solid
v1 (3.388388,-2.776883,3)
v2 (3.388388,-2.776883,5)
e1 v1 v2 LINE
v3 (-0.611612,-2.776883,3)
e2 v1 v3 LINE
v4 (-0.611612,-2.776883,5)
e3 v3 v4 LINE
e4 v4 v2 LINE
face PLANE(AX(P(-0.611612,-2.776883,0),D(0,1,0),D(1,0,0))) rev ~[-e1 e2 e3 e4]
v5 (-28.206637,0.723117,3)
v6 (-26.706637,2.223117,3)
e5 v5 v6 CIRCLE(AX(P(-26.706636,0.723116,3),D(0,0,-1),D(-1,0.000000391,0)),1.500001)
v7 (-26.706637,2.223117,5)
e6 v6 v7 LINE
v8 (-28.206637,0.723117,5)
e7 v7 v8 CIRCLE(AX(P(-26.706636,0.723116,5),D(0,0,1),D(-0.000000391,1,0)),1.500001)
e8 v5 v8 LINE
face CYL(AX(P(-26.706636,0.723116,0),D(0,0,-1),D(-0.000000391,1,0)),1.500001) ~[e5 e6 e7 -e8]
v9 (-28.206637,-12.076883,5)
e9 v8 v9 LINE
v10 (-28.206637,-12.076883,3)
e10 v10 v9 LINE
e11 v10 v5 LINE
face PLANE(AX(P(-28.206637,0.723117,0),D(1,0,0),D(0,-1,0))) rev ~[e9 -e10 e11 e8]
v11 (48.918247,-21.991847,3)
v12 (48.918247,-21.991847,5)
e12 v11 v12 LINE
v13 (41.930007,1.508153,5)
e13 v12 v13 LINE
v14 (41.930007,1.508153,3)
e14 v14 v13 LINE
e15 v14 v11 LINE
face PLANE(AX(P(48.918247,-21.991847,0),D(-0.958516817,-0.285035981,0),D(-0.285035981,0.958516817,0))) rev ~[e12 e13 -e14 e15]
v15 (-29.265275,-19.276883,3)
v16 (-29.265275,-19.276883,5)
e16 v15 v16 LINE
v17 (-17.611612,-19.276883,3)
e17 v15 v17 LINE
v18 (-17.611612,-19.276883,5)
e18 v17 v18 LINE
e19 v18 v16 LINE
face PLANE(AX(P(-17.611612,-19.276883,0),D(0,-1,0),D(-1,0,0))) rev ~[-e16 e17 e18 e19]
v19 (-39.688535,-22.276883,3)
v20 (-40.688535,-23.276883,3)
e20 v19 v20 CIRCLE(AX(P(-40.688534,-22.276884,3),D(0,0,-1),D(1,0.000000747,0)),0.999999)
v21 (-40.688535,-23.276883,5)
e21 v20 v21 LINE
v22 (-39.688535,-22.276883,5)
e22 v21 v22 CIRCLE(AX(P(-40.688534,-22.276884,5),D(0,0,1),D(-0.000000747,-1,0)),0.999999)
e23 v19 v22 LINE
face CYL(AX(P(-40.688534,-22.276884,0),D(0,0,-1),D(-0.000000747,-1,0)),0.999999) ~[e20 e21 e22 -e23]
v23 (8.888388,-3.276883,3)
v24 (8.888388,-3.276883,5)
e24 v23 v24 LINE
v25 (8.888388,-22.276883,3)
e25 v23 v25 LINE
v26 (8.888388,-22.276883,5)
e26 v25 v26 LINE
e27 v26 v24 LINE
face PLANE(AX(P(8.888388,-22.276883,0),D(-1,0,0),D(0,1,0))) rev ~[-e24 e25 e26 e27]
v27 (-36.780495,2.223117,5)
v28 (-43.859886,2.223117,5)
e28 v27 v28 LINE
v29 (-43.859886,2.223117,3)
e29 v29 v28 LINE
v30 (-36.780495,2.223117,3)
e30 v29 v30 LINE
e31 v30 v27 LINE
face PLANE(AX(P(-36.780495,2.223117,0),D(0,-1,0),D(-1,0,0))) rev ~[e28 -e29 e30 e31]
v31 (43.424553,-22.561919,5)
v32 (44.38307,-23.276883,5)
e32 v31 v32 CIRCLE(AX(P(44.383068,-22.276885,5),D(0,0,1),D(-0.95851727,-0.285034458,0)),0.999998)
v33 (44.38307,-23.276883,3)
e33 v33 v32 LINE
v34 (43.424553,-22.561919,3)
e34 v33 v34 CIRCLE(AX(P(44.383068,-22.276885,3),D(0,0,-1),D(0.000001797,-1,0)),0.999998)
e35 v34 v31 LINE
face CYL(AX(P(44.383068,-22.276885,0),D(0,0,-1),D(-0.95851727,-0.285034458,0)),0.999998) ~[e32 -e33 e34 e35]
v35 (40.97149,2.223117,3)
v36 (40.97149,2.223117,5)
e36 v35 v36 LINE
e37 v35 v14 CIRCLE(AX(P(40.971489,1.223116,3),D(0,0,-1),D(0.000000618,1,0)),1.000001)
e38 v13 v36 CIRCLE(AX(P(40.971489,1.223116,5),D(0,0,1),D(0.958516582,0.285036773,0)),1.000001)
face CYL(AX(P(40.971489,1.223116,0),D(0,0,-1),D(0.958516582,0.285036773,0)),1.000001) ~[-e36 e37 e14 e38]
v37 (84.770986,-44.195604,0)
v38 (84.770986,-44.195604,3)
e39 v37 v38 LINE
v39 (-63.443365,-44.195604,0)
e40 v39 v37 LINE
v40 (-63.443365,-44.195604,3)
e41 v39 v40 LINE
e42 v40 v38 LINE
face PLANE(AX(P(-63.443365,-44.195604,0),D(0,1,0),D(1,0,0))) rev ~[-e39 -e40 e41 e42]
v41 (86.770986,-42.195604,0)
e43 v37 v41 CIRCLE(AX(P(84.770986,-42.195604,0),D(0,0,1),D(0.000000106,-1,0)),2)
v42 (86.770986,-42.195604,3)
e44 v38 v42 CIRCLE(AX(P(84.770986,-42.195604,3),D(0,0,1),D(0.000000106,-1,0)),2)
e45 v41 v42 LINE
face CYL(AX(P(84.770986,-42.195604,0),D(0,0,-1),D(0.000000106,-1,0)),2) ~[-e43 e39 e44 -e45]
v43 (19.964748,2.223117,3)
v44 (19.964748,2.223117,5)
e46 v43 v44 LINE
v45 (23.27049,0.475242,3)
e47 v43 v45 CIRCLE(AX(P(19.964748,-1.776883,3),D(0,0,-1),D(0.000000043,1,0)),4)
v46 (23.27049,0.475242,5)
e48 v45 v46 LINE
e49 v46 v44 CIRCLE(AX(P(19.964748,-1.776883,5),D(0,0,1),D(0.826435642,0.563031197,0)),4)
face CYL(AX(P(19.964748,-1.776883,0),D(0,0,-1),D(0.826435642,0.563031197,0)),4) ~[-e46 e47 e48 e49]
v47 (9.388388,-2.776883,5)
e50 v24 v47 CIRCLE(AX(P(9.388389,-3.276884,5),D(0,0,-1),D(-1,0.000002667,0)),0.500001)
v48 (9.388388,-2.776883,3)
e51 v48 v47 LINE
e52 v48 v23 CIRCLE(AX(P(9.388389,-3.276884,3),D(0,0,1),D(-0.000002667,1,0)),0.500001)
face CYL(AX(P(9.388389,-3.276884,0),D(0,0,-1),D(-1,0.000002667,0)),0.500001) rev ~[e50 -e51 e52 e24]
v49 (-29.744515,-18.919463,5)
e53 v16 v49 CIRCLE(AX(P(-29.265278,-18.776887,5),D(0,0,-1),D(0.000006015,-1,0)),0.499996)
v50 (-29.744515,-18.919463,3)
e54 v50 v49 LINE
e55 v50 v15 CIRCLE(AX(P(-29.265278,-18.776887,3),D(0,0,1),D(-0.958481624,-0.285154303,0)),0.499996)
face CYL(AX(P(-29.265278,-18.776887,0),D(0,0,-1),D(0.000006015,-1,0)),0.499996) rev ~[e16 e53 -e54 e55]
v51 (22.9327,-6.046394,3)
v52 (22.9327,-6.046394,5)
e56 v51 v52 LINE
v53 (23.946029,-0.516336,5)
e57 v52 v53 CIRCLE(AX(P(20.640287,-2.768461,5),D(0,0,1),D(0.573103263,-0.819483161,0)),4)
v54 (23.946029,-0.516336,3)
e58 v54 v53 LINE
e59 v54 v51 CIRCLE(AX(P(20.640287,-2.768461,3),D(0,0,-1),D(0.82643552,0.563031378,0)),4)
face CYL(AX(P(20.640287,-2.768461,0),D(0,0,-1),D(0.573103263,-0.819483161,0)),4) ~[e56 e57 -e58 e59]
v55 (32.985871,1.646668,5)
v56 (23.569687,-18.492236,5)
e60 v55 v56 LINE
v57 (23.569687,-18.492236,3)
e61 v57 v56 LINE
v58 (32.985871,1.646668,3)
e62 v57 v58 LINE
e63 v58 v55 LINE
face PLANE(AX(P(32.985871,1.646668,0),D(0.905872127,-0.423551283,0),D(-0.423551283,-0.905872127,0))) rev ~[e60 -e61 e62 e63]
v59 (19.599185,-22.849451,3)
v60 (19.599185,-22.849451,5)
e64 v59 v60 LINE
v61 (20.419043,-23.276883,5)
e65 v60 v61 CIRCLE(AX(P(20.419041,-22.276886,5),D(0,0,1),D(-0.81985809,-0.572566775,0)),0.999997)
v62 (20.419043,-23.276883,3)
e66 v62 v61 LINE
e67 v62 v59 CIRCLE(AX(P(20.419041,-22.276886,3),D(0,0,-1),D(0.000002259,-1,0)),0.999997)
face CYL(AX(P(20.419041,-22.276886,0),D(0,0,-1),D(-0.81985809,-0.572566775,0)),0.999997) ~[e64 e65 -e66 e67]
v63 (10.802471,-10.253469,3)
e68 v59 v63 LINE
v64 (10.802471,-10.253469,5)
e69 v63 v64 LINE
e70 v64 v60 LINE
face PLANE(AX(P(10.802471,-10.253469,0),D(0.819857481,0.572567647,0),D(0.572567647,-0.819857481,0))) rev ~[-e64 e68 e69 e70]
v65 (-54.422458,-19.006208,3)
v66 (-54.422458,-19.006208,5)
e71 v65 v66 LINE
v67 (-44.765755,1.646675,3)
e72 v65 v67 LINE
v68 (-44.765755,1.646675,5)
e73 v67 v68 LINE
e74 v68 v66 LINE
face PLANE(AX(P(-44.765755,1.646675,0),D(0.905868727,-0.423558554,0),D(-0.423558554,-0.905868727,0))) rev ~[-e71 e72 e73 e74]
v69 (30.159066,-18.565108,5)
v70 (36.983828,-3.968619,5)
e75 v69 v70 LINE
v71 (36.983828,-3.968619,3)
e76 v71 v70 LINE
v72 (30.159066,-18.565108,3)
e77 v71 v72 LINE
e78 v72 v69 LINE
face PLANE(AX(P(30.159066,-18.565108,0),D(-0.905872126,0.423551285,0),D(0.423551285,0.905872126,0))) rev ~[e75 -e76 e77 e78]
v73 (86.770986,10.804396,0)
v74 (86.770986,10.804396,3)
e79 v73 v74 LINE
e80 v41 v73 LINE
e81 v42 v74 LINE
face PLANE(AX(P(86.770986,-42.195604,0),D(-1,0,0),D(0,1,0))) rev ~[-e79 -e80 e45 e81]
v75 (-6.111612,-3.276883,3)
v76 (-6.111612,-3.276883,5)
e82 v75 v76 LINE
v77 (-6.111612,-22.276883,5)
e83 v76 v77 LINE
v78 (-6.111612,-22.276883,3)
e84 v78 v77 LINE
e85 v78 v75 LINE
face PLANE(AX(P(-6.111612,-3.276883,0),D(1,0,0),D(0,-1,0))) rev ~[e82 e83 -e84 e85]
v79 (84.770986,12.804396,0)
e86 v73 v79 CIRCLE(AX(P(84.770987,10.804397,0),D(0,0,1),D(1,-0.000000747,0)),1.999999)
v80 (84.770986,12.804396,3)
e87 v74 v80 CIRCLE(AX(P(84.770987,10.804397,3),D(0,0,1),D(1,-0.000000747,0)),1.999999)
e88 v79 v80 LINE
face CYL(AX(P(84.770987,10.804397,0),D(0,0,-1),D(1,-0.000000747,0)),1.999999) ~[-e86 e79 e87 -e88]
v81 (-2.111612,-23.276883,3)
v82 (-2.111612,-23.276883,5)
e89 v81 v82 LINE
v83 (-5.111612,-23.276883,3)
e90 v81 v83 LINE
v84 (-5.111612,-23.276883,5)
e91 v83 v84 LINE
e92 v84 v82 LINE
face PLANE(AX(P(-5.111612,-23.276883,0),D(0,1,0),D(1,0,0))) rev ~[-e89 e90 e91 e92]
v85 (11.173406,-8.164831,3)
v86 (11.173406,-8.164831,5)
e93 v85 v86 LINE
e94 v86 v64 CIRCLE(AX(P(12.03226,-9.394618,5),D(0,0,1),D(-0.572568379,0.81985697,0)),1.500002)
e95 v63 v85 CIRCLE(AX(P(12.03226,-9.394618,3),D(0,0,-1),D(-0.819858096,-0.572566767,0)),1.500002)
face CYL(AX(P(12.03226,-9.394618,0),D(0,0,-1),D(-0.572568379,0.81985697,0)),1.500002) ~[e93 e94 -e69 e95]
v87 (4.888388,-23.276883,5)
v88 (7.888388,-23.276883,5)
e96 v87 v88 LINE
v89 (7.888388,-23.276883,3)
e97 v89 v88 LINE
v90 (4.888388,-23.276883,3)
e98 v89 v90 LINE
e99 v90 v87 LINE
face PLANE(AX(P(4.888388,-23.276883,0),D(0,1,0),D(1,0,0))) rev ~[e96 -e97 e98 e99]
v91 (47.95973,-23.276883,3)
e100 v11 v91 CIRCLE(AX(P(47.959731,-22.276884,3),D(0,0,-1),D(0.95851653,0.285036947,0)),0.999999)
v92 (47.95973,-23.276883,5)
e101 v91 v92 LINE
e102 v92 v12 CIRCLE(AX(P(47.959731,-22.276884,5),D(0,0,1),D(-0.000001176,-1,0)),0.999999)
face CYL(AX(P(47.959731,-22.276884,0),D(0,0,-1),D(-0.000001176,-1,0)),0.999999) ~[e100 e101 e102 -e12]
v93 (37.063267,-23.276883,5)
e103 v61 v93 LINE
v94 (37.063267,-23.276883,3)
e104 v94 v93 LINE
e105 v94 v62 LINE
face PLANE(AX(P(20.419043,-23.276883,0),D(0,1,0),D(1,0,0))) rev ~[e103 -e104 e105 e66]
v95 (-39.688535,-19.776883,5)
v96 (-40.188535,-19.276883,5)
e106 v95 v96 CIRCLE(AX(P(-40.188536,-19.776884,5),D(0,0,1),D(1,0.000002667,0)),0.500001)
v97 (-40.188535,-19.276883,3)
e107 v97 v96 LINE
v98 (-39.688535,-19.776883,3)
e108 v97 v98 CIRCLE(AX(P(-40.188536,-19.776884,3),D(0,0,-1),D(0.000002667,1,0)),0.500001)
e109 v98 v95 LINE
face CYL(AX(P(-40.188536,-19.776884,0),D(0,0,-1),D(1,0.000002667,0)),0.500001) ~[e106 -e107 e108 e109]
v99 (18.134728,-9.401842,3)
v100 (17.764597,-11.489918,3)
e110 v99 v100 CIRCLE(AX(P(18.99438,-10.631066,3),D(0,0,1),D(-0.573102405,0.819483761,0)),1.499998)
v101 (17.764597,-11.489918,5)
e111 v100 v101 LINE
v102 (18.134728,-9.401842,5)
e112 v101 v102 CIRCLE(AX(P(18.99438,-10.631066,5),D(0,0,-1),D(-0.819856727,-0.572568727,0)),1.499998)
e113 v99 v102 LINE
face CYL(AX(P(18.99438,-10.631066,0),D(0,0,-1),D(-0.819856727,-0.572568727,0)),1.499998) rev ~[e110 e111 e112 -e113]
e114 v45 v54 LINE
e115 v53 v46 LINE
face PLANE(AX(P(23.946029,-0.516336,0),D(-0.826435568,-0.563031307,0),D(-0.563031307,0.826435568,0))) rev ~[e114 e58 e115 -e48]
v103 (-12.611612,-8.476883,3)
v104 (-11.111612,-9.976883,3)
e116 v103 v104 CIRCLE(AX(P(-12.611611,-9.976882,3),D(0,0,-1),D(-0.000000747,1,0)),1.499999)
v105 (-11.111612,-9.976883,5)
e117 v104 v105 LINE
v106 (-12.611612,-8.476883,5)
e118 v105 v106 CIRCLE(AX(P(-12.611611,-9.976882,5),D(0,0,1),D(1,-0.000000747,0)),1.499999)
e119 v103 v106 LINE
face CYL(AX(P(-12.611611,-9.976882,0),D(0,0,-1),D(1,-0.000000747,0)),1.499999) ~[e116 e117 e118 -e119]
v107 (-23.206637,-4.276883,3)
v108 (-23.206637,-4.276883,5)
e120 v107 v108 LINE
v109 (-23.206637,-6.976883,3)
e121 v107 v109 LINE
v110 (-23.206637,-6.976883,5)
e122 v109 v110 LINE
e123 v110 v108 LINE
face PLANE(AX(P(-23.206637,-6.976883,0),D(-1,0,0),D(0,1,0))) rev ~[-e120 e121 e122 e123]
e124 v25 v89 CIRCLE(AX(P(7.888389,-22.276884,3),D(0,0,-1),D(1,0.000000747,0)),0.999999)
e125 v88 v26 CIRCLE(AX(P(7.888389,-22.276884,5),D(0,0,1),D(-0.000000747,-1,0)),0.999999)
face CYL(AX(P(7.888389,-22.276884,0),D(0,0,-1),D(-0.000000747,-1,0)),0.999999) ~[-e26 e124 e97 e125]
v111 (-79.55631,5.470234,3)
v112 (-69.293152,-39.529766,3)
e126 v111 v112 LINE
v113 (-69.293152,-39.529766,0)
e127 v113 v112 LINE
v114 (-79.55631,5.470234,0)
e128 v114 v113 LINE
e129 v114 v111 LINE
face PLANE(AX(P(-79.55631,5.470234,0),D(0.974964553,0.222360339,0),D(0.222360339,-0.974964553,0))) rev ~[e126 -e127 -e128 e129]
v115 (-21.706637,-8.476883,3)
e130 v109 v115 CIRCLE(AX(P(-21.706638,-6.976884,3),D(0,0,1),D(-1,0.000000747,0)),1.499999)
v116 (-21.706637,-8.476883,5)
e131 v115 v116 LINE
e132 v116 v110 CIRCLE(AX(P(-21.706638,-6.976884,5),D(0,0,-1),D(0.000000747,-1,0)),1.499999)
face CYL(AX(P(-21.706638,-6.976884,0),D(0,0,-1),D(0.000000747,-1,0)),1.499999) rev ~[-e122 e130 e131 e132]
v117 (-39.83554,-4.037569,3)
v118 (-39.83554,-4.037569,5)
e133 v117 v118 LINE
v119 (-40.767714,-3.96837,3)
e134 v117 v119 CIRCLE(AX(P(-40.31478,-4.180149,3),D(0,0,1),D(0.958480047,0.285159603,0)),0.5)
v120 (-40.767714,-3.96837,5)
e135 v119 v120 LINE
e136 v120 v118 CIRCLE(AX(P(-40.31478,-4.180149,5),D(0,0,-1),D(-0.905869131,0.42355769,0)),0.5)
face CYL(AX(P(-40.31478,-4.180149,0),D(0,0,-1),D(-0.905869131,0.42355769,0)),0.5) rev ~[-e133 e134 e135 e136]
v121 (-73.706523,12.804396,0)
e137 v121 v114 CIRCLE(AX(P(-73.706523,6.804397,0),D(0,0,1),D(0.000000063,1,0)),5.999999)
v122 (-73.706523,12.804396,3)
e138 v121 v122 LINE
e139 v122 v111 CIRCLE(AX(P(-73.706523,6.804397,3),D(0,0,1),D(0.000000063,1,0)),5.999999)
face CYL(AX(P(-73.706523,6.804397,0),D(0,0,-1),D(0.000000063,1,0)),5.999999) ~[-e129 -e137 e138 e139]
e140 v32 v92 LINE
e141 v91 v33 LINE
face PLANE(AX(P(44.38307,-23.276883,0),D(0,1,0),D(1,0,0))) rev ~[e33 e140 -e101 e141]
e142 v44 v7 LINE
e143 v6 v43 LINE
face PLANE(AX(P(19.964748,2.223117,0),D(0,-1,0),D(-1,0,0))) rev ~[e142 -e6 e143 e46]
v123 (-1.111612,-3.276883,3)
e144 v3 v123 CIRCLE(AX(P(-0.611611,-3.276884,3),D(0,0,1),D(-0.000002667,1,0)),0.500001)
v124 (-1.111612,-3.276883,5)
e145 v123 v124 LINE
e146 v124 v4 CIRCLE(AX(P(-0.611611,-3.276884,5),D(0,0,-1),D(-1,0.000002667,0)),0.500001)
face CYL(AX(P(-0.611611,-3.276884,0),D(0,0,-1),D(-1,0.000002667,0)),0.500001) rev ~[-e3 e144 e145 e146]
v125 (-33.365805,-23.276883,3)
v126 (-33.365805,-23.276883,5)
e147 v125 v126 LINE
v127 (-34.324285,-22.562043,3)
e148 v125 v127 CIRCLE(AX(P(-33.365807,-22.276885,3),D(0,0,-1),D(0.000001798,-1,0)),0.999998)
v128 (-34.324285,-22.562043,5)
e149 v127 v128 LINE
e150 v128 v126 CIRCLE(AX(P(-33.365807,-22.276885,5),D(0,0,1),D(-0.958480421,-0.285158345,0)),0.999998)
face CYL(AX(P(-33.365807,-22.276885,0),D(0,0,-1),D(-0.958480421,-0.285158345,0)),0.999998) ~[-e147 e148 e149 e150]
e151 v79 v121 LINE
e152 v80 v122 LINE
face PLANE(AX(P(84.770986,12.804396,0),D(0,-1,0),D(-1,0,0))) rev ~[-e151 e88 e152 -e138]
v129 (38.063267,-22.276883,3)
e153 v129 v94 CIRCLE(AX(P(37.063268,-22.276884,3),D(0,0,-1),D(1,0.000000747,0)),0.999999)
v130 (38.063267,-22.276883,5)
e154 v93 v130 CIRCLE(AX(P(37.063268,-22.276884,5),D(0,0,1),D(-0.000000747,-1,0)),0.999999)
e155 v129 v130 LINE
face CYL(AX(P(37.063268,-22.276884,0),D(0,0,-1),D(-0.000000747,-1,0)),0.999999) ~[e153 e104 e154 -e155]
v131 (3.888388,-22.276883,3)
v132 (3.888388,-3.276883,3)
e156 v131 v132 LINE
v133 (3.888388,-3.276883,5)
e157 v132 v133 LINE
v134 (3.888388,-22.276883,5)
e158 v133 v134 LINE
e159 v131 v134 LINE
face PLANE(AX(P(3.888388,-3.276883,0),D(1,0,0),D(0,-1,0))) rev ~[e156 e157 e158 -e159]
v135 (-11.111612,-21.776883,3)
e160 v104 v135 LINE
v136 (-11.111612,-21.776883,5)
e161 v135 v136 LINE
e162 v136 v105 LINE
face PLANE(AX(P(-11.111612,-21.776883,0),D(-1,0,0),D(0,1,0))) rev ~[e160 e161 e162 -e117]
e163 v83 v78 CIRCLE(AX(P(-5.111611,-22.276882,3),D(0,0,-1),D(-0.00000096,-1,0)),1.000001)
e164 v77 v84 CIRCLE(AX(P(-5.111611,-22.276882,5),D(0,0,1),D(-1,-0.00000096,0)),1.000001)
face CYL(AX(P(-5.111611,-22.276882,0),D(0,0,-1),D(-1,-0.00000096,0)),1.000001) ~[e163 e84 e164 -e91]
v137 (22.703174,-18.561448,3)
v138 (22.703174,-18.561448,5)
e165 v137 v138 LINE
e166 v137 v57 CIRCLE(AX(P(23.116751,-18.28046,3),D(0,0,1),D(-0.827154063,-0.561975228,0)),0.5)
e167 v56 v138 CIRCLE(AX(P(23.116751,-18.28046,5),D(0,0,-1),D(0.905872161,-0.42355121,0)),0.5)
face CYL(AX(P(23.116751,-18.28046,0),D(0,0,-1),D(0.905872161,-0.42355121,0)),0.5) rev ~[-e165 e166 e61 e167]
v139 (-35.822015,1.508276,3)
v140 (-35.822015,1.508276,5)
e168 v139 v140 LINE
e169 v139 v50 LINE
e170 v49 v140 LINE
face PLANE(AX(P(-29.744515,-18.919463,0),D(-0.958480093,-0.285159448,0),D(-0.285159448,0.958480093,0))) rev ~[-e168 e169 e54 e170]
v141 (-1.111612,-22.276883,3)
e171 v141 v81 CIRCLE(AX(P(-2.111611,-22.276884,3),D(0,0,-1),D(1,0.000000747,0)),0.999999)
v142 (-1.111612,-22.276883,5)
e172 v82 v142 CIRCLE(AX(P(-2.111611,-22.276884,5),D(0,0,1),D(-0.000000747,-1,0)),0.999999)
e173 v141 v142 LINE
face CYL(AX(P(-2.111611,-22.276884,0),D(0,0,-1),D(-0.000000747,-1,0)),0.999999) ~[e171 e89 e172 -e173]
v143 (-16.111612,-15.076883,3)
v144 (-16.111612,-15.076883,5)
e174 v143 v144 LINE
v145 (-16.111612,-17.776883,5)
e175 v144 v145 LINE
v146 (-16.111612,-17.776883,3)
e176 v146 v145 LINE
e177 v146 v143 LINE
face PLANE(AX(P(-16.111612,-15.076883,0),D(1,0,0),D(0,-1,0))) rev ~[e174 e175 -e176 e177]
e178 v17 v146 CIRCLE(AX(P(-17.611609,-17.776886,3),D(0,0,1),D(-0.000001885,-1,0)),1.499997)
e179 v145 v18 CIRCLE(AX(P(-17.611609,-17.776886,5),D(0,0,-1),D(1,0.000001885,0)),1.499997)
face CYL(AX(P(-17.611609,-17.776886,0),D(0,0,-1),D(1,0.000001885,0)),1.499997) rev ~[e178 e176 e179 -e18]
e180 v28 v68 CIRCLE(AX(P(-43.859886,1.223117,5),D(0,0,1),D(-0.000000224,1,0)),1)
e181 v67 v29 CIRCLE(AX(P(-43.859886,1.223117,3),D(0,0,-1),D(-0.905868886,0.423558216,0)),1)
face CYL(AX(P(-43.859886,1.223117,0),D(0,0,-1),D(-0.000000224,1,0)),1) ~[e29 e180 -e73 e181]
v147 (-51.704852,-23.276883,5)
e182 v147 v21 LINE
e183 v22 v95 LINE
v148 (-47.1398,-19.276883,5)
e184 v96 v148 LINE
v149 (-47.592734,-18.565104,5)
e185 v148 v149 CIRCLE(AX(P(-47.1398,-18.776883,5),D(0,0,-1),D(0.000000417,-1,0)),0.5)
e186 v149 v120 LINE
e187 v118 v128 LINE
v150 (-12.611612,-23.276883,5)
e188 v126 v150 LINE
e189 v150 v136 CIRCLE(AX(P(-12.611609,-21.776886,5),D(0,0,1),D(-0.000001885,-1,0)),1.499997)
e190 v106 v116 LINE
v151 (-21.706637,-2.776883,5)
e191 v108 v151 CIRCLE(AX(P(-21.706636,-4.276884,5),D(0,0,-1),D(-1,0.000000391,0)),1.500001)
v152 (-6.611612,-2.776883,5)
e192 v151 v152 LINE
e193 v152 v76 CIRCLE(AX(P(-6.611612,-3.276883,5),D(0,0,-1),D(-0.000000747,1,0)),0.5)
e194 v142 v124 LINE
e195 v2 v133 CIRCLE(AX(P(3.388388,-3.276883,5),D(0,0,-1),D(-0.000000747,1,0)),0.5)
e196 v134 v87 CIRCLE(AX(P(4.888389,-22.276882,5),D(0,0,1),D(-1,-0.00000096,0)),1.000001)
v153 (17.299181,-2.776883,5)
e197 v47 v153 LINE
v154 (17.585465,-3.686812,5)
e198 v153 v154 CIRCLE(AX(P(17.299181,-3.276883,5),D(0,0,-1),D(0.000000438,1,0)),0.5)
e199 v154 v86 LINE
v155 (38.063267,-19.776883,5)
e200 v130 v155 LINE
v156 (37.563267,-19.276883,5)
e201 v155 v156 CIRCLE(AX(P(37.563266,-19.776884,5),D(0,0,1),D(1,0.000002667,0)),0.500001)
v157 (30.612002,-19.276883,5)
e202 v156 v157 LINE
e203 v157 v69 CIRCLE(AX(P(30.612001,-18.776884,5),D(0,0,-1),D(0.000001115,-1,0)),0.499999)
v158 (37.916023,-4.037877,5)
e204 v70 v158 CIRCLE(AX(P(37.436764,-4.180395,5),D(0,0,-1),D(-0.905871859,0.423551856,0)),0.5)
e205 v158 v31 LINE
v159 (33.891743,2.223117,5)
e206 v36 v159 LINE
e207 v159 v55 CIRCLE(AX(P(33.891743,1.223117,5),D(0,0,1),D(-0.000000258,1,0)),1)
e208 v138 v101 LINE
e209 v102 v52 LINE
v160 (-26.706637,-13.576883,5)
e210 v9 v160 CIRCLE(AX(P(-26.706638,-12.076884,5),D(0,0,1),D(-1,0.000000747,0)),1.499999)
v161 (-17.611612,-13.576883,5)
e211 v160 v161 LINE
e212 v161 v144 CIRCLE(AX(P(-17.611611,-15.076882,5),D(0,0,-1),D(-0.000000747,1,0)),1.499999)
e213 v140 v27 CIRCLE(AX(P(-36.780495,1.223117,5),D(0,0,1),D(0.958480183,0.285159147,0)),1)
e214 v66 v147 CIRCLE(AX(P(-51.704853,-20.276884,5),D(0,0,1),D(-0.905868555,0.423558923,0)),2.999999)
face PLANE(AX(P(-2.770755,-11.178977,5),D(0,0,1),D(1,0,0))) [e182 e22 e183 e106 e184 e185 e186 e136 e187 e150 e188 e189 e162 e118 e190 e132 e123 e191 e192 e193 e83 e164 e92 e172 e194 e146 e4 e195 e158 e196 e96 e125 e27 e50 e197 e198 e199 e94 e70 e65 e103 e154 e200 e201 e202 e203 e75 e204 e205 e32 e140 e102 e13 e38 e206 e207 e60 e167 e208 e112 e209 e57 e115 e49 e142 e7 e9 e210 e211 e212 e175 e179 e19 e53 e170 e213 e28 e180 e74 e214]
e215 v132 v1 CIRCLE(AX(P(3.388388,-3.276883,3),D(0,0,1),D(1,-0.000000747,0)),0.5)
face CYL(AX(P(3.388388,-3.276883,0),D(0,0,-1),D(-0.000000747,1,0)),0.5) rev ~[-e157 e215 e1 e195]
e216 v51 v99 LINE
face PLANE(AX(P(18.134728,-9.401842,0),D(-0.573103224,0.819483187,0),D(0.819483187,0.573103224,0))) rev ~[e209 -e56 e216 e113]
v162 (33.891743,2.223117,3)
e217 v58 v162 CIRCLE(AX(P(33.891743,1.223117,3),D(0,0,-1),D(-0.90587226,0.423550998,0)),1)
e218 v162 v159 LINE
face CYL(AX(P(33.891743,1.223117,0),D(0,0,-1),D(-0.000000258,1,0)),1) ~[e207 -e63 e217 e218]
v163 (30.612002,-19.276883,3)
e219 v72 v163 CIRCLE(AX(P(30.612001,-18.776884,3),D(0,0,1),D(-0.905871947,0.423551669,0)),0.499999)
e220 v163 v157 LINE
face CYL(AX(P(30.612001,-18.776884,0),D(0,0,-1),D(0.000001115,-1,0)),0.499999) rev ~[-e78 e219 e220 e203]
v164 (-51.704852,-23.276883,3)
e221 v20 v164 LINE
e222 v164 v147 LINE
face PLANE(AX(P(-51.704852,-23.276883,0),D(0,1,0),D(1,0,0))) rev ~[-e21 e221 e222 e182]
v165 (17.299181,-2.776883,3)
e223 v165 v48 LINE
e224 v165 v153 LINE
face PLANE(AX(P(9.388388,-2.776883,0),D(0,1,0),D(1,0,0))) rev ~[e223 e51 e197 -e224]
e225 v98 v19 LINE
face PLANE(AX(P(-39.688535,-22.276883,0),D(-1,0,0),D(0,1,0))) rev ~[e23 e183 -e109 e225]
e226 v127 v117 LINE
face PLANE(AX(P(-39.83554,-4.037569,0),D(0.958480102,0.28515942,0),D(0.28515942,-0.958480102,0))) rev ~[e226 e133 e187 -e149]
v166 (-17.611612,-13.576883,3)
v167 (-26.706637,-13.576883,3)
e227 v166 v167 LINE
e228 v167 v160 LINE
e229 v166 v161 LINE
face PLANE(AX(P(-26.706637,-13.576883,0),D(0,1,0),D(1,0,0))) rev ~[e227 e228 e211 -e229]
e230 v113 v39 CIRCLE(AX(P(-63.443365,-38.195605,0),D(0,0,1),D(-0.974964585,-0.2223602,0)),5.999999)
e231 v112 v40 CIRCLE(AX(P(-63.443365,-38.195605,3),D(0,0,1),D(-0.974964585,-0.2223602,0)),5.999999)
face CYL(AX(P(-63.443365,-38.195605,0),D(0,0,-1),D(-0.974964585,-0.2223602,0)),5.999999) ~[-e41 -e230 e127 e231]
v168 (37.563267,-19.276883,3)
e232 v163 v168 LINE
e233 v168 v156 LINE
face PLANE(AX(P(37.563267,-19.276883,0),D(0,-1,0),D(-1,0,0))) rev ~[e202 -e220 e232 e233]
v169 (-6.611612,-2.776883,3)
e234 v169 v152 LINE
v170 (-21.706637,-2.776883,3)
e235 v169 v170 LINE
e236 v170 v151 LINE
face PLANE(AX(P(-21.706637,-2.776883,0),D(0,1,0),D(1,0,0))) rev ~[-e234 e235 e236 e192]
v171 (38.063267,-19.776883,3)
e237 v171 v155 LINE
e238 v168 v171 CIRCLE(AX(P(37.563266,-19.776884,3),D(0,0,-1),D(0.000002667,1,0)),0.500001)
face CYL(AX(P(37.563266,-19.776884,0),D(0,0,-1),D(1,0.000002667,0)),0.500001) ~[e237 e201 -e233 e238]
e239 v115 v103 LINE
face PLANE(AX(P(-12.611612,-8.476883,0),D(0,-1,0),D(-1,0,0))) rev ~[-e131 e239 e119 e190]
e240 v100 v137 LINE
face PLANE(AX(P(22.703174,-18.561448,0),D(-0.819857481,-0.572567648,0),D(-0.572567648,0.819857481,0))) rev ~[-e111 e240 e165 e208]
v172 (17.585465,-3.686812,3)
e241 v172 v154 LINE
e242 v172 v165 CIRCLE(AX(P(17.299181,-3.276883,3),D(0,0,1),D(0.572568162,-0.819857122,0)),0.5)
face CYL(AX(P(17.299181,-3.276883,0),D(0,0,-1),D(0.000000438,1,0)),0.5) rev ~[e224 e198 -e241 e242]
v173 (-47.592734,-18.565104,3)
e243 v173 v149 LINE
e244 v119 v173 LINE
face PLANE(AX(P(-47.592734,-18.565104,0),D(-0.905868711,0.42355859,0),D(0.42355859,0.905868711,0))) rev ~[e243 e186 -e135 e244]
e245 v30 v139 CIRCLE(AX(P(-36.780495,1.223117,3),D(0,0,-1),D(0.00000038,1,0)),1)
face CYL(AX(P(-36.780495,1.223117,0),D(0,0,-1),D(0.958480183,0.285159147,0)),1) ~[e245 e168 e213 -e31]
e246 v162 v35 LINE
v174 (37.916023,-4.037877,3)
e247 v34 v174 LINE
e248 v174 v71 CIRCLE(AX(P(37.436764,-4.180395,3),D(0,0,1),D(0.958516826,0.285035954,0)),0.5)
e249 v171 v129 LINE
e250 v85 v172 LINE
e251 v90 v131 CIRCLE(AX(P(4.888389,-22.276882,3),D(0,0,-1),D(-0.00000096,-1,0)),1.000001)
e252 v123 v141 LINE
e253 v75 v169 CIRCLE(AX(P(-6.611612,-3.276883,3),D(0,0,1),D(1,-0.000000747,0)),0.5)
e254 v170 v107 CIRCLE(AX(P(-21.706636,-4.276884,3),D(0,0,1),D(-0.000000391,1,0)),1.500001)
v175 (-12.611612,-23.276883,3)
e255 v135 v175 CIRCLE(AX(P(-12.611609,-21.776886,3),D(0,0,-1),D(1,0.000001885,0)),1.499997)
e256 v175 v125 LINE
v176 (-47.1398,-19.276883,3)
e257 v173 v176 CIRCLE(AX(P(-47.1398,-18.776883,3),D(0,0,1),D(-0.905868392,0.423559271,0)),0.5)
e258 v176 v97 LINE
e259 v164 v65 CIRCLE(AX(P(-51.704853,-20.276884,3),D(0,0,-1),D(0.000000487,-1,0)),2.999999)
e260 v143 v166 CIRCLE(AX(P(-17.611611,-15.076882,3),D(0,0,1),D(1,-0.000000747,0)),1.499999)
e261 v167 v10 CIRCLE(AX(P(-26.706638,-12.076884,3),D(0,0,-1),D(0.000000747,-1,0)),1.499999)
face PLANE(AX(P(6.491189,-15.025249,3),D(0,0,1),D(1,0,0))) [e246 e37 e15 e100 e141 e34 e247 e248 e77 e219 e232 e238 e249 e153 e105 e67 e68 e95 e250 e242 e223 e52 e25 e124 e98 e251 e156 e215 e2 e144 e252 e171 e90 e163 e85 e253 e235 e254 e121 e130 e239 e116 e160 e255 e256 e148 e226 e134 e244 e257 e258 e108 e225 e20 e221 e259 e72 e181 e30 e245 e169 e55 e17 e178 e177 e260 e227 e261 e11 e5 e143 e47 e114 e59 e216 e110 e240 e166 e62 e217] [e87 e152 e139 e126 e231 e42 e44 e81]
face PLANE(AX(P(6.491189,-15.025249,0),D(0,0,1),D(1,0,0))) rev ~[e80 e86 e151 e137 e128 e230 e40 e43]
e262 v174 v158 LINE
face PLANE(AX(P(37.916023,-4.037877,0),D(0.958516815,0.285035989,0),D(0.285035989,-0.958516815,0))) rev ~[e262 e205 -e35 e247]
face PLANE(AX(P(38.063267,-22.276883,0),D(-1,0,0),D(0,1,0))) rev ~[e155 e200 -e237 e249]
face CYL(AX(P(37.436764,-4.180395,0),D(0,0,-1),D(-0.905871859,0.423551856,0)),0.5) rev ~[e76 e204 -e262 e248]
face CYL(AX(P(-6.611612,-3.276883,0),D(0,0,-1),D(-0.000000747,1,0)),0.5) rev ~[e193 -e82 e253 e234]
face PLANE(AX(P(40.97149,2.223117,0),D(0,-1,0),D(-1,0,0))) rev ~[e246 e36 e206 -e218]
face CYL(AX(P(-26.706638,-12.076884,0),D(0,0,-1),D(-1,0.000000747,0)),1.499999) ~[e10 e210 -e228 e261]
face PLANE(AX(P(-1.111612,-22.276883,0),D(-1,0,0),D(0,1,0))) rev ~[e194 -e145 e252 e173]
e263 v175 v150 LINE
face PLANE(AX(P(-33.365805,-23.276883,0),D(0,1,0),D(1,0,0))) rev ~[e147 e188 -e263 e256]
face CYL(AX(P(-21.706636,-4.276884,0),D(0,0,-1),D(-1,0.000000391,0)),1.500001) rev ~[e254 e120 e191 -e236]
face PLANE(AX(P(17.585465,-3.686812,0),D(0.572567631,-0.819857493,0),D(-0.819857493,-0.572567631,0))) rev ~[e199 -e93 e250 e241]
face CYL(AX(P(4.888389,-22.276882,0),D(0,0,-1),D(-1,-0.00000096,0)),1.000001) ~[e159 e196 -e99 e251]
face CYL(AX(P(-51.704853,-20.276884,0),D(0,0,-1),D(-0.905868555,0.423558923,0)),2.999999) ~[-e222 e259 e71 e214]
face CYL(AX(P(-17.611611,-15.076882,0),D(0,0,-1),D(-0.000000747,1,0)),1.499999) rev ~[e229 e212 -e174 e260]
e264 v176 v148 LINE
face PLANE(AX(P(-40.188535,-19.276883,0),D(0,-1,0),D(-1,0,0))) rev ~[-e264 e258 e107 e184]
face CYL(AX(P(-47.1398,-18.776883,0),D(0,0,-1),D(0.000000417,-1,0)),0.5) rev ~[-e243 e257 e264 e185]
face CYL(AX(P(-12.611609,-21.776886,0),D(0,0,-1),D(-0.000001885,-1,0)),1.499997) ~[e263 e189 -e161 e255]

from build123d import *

# Parameters (mm, degrees)
F1_DEPTH = 3
F2_DEPTH = 5


with BuildPart() as f1:
    # F0 (on Top) → F1 (new body)
    with BuildSketch(Plane.XY):
        with BuildLine():
            Line((84.770986, 12.804396), (-73.706523, 12.804396))
            ThreePointArc((-73.706523, 12.804396), (-78.397204, 10.545721), (-79.55631, 5.470234))
            Line((-79.55631, 5.470234), (-69.293152, -39.529766))
            ThreePointArc((-69.293152, -39.529766), (-67.18469, -42.886285), (-63.443365, -44.195604))
            Line((-63.443365, -44.195604), (84.770986, -44.195604))
            ThreePointArc((84.770986, -44.195604), (86.1852, -43.609817), (86.770986, -42.195604))
            Line((86.770986, -42.195604), (86.770986, 10.804396))
            ThreePointArc((86.770986, 10.804396), (86.1852, 12.21861), (84.770986, 12.804396))
        make_face()
        with BuildLine():
            ThreePointArc((-51.704852, -23.276883), (-54.235863, -21.887469), (-54.422458, -19.006208))
            Line((-54.422458, -19.006208), (-44.765755, 1.646675))
            ThreePointArc((-44.765755, 1.646675), (-44.396748, 2.066787), (-43.859886, 2.223117))
            Line((-43.859886, 2.223117), (-36.780495, 2.223117))
            ThreePointArc((-36.780495, 2.223117), (-36.182648, 2.024727), (-35.822015, 1.508276))
            Line((-35.822015, 1.508276), (-29.744515, -18.919463))
            ThreePointArc((-29.744515, -18.919463), (-29.564199, -19.177689), (-29.265275, -19.276883))
            Line((-29.265275, -19.276883), (-17.611612, -19.276883))
            ThreePointArc((-17.611612, -19.276883), (-16.550951, -18.837544), (-16.111612, -17.776883))
            Line((-16.111612, -17.776883), (-16.111612, -15.076883))
            ThreePointArc((-16.111612, -15.076883), (-16.550951, -14.016223), (-17.611612, -13.576883))
            Line((-17.611612, -13.576883), (-26.706637, -13.576883))
            ThreePointArc((-26.706637, -13.576883), (-27.767297, -13.137544), (-28.206637, -12.076883))
            Line((-28.206637, -12.076883), (-28.206637, 0.723117))
            ThreePointArc((-28.206637, 0.723117), (-27.767297, 1.783777), (-26.706637, 2.223117))
            Line((-26.706637, 2.223117), (19.964748, 2.223117))
            ThreePointArc((19.964748, 2.223117), (21.83444, 1.759252), (23.27049, 0.475242))
            Line((23.27049, 0.475242), (23.946029, -0.516336))
            ThreePointArc((23.946029, -0.516336), (24.574778, -3.489419), (22.9327, -6.046394))
            Line((22.9327, -6.046394), (18.134728, -9.401842))
            ThreePointArc((18.134728, -9.401842), (17.517407, -10.369258), (17.764597, -11.489918))
            Line((17.764597, -11.489918), (22.703174, -18.561448))
            ThreePointArc((22.703174, -18.561448), (23.156561, -18.778873), (23.569687, -18.492236))
            Line((23.569687, -18.492236), (32.985871, 1.646668))
            ThreePointArc((32.985871, 1.646668), (33.354878, 2.066785), (33.891743, 2.223117))
            Line((33.891743, 2.223117), (40.97149, 2.223117))
            ThreePointArc((40.97149, 2.223117), (41.569388, 2.024689), (41.930007, 1.508153))
            Line((41.930007, 1.508153), (48.918247, -21.991847))
            ThreePointArc((48.918247, -21.991847), (48.761303, -22.874781), (47.95973, -23.276883))
            Line((47.95973, -23.276883), (44.38307, -23.276883))
            ThreePointArc((44.38307, -23.276883), (43.785172, -23.078456), (43.424553, -22.561919))
            Line((43.424553, -22.561919), (37.916023, -4.037877))
            ThreePointArc((37.916023, -4.037877), (37.47381, -3.681769), (36.983828, -3.968619))
            Line((36.983828, -3.968619), (30.159066, -18.565108))
            ThreePointArc((30.159066, -18.565108), (30.190168, -19.045316), (30.612002, -19.276883))
            Line((30.612002, -19.276883), (37.563267, -19.276883))
            ThreePointArc((37.563267, -19.276883), (37.91682, -19.42333), (38.063267, -19.776883))
            Line((38.063267, -19.776883), (38.063267, -22.276883))
            ThreePointArc((38.063267, -22.276883), (37.770374, -22.98399), (37.063267, -23.276883))
            Line((37.063267, -23.276883), (20.419043, -23.276883))
            ThreePointArc((20.419043, -23.276883), (19.956748, -23.16361), (19.599185, -22.849451))
            Line((19.599185, -22.849451), (10.802471, -10.253469))
            ThreePointArc((10.802471, -10.253469), (10.555368, -9.132327), (11.173406, -8.164831))
            Line((11.173406, -8.164831), (17.585465, -3.686812))
            ThreePointArc((17.585465, -3.686812), (17.776132, -3.126824), (17.299181, -2.776883))
            Line((17.299181, -2.776883), (9.388388, -2.776883))
            ThreePointArc((9.388388, -2.776883), (9.034835, -2.92333), (8.888388, -3.276883))
            Line((8.888388, -3.276883), (8.888388, -22.276883))
            ThreePointArc((8.888388, -22.276883), (8.595495, -22.98399), (7.888388, -23.276883))
            Line((7.888388, -23.276883), (4.888388, -23.276883))
            ThreePointArc((4.888388, -23.276883), (4.181282, -22.98399), (3.888388, -22.276883))
            Line((3.888388, -22.276883), (3.888388, -3.276883))
            ThreePointArc((3.888388, -3.276883), (3.741942, -2.92333), (3.388388, -2.776883))
            Line((3.388388, -2.776883), (-0.611612, -2.776883))
            ThreePointArc((-0.611612, -2.776883), (-0.965165, -2.92333), (-1.111612, -3.276883))
            Line((-1.111612, -3.276883), (-1.111612, -22.276883))
            ThreePointArc((-1.111612, -22.276883), (-1.404505, -22.98399), (-2.111612, -23.276883))
            Line((-2.111612, -23.276883), (-5.111612, -23.276883))
            ThreePointArc((-5.111612, -23.276883), (-5.818718, -22.98399), (-6.111612, -22.276883))
            Line((-6.111612, -22.276883), (-6.111612, -3.276883))
            ThreePointArc((-6.111612, -3.276883), (-6.258058, -2.92333), (-6.611612, -2.776883))
            Line((-6.611612, -2.776883), (-21.706637, -2.776883))
            ThreePointArc((-21.706637, -2.776883), (-22.767297, -3.216223), (-23.206637, -4.276883))
            Line((-23.206637, -4.276883), (-23.206637, -6.976883))
            ThreePointArc((-23.206637, -6.976883), (-22.767297, -8.037544), (-21.706637, -8.476883))
            Line((-21.706637, -8.476883), (-12.611612, -8.476883))
            ThreePointArc((-12.611612, -8.476883), (-11.550951, -8.916223), (-11.111612, -9.976883))
            Line((-11.111612, -9.976883), (-11.111612, -21.776883))
            ThreePointArc((-11.111612, -21.776883), (-11.550951, -22.837544), (-12.611612, -23.276883))
            Line((-12.611612, -23.276883), (-33.365805, -23.276883))
            ThreePointArc((-33.365805, -23.276883), (-33.963652, -23.078494), (-34.324285, -22.562043))
            Line((-34.324285, -22.562043), (-39.83554, -4.037569))
            ThreePointArc((-39.83554, -4.037569), (-40.277765, -3.681521), (-40.767714, -3.96837))
            Line((-40.767714, -3.96837), (-47.592734, -18.565104))
            ThreePointArc((-47.592734, -18.565104), (-47.561635, -19.045314), (-47.1398, -19.276883))
            Line((-47.1398, -19.276883), (-40.188535, -19.276883))
            ThreePointArc((-40.188535, -19.276883), (-39.834982, -19.42333), (-39.688535, -19.776883))
            Line((-39.688535, -19.776883), (-39.688535, -22.276883))
            ThreePointArc((-39.688535, -22.276883), (-39.981428, -22.98399), (-40.688535, -23.276883))
            Line((-40.688535, -23.276883), (-51.704852, -23.276883))
        make_face(mode=Mode.SUBTRACT)
    extrude(amount=F1_DEPTH)

    # F0 (on Top) → F2 (join)
    with BuildSketch(Plane.XY):
        with BuildLine():
            Line((-44.765755, 1.646675), (-54.422458, -19.006208))
            ThreePointArc((-54.422458, -19.006208), (-54.235863, -21.887469), (-51.704852, -23.276883))
            Line((-51.704852, -23.276883), (-40.688535, -23.276883))
            ThreePointArc((-40.688535, -23.276883), (-39.981428, -22.98399), (-39.688535, -22.276883))
            Line((-39.688535, -22.276883), (-39.688535, -19.776883))
            ThreePointArc((-39.688535, -19.776883), (-39.834982, -19.42333), (-40.188535, -19.276883))
            Line((-40.188535, -19.276883), (-47.1398, -19.276883))
            ThreePointArc((-47.1398, -19.276883), (-47.561635, -19.045314), (-47.592734, -18.565104))
            Line((-47.592734, -18.565104), (-40.767714, -3.96837))
            ThreePointArc((-40.767714, -3.96837), (-40.277765, -3.681521), (-39.83554, -4.037569))
            Line((-39.83554, -4.037569), (-34.324285, -22.562043))
            ThreePointArc((-34.324285, -22.562043), (-33.963652, -23.078494), (-33.365805, -23.276883))
            Line((-33.365805, -23.276883), (-12.611612, -23.276883))
            ThreePointArc((-12.611612, -23.276883), (-11.550951, -22.837544), (-11.111612, -21.776883))
            Line((-11.111612, -21.776883), (-11.111612, -9.976883))
            ThreePointArc((-11.111612, -9.976883), (-11.550951, -8.916223), (-12.611612, -8.476883))
            Line((-12.611612, -8.476883), (-21.706637, -8.476883))
            ThreePointArc((-21.706637, -8.476883), (-22.767297, -8.037544), (-23.206637, -6.976883))
            Line((-23.206637, -6.976883), (-23.206637, -4.276883))
            ThreePointArc((-23.206637, -4.276883), (-22.767297, -3.216223), (-21.706637, -2.776883))
            Line((-21.706637, -2.776883), (-6.611612, -2.776883))
            ThreePointArc((-6.611612, -2.776883), (-6.258058, -2.92333), (-6.111612, -3.276883))
            Line((-6.111612, -3.276883), (-6.111612, -22.276883))
            ThreePointArc((-6.111612, -22.276883), (-5.818718, -22.98399), (-5.111612, -23.276883))
            Line((-5.111612, -23.276883), (-2.111612, -23.276883))
            ThreePointArc((-2.111612, -23.276883), (-1.404505, -22.98399), (-1.111612, -22.276883))
            Line((-1.111612, -22.276883), (-1.111612, -3.276883))
            ThreePointArc((-1.111612, -3.276883), (-0.965165, -2.92333), (-0.611612, -2.776883))
            Line((-0.611612, -2.776883), (3.388388, -2.776883))
            ThreePointArc((3.388388, -2.776883), (3.741942, -2.92333), (3.888388, -3.276883))
            Line((3.888388, -3.276883), (3.888388, -22.276883))
            ThreePointArc((3.888388, -22.276883), (4.181282, -22.98399), (4.888388, -23.276883))
            Line((4.888388, -23.276883), (7.888388, -23.276883))
            ThreePointArc((7.888388, -23.276883), (8.595495, -22.98399), (8.888388, -22.276883))
            Line((8.888388, -22.276883), (8.888388, -3.276883))
            ThreePointArc((8.888388, -3.276883), (9.034835, -2.92333), (9.388388, -2.776883))
            Line((9.388388, -2.776883), (17.299181, -2.776883))
            ThreePointArc((17.299181, -2.776883), (17.776132, -3.126824), (17.585465, -3.686812))
            Line((17.585465, -3.686812), (11.173406, -8.164831))
            ThreePointArc((11.173406, -8.164831), (10.555368, -9.132327), (10.802471, -10.253469))
            Line((10.802471, -10.253469), (19.599185, -22.849451))
            ThreePointArc((19.599185, -22.849451), (19.956748, -23.16361), (20.419043, -23.276883))
            Line((20.419043, -23.276883), (37.063267, -23.276883))
            ThreePointArc((37.063267, -23.276883), (37.770374, -22.98399), (38.063267, -22.276883))
            Line((38.063267, -22.276883), (38.063267, -19.776883))
            ThreePointArc((38.063267, -19.776883), (37.91682, -19.42333), (37.563267, -19.276883))
            Line((37.563267, -19.276883), (30.612002, -19.276883))
            ThreePointArc((30.612002, -19.276883), (30.190168, -19.045316), (30.159066, -18.565108))
            Line((30.159066, -18.565108), (36.983828, -3.968619))
            ThreePointArc((36.983828, -3.968619), (37.47381, -3.681769), (37.916023, -4.037877))
            Line((37.916023, -4.037877), (43.424553, -22.561919))
            ThreePointArc((43.424553, -22.561919), (43.785172, -23.078456), (44.38307, -23.276883))
            Line((44.38307, -23.276883), (47.95973, -23.276883))
            ThreePointArc((47.95973, -23.276883), (48.761303, -22.874781), (48.918247, -21.991847))
            Line((48.918247, -21.991847), (41.930007, 1.508153))
            ThreePointArc((41.930007, 1.508153), (41.569388, 2.024689), (40.97149, 2.223117))
            Line((40.97149, 2.223117), (33.891743, 2.223117))
            ThreePointArc((33.891743, 2.223117), (33.354878, 2.066785), (32.985871, 1.646668))
            Line((32.985871, 1.646668), (23.569687, -18.492236))
            ThreePointArc((23.569687, -18.492236), (23.156561, -18.778873), (22.703174, -18.561448))
            Line((22.703174, -18.561448), (17.764597, -11.489918))
            ThreePointArc((17.764597, -11.489918), (17.517407, -10.369258), (18.134728, -9.401842))
            Line((18.134728, -9.401842), (22.9327, -6.046394))
            ThreePointArc((22.9327, -6.046394), (24.574778, -3.489419), (23.946029, -0.516336))
            Line((23.946029, -0.516336), (23.27049, 0.475242))
            ThreePointArc((23.27049, 0.475242), (21.83444, 1.759252), (19.964748, 2.223117))
            Line((19.964748, 2.223117), (-26.706637, 2.223117))
            ThreePointArc((-26.706637, 2.223117), (-27.767297, 1.783777), (-28.206637, 0.723117))
            Line((-28.206637, 0.723117), (-28.206637, -12.076883))
            ThreePointArc((-28.206637, -12.076883), (-27.767297, -13.137544), (-26.706637, -13.576883))
            Line((-26.706637, -13.576883), (-17.611612, -13.576883))
            ThreePointArc((-17.611612, -13.576883), (-16.550951, -14.016223), (-16.111612, -15.076883))
            Line((-16.111612, -15.076883), (-16.111612, -17.776883))
            ThreePointArc((-16.111612, -17.776883), (-16.550951, -18.837544), (-17.611612, -19.276883))
            Line((-17.611612, -19.276883), (-29.265275, -19.276883))
            ThreePointArc((-29.265275, -19.276883), (-29.564199, -19.177689), (-29.744515, -18.919463))
            Line((-29.744515, -18.919463), (-35.822015, 1.508276))
            ThreePointArc((-35.822015, 1.508276), (-36.182648, 2.024727), (-36.780495, 2.223117))
            Line((-36.780495, 2.223117), (-43.859886, 2.223117))
            ThreePointArc((-43.859886, 2.223117), (-44.396748, 2.066787), (-44.765755, 1.646675))
        make_face()
    extrude(amount=F2_DEPTH)


solid = f1.part
